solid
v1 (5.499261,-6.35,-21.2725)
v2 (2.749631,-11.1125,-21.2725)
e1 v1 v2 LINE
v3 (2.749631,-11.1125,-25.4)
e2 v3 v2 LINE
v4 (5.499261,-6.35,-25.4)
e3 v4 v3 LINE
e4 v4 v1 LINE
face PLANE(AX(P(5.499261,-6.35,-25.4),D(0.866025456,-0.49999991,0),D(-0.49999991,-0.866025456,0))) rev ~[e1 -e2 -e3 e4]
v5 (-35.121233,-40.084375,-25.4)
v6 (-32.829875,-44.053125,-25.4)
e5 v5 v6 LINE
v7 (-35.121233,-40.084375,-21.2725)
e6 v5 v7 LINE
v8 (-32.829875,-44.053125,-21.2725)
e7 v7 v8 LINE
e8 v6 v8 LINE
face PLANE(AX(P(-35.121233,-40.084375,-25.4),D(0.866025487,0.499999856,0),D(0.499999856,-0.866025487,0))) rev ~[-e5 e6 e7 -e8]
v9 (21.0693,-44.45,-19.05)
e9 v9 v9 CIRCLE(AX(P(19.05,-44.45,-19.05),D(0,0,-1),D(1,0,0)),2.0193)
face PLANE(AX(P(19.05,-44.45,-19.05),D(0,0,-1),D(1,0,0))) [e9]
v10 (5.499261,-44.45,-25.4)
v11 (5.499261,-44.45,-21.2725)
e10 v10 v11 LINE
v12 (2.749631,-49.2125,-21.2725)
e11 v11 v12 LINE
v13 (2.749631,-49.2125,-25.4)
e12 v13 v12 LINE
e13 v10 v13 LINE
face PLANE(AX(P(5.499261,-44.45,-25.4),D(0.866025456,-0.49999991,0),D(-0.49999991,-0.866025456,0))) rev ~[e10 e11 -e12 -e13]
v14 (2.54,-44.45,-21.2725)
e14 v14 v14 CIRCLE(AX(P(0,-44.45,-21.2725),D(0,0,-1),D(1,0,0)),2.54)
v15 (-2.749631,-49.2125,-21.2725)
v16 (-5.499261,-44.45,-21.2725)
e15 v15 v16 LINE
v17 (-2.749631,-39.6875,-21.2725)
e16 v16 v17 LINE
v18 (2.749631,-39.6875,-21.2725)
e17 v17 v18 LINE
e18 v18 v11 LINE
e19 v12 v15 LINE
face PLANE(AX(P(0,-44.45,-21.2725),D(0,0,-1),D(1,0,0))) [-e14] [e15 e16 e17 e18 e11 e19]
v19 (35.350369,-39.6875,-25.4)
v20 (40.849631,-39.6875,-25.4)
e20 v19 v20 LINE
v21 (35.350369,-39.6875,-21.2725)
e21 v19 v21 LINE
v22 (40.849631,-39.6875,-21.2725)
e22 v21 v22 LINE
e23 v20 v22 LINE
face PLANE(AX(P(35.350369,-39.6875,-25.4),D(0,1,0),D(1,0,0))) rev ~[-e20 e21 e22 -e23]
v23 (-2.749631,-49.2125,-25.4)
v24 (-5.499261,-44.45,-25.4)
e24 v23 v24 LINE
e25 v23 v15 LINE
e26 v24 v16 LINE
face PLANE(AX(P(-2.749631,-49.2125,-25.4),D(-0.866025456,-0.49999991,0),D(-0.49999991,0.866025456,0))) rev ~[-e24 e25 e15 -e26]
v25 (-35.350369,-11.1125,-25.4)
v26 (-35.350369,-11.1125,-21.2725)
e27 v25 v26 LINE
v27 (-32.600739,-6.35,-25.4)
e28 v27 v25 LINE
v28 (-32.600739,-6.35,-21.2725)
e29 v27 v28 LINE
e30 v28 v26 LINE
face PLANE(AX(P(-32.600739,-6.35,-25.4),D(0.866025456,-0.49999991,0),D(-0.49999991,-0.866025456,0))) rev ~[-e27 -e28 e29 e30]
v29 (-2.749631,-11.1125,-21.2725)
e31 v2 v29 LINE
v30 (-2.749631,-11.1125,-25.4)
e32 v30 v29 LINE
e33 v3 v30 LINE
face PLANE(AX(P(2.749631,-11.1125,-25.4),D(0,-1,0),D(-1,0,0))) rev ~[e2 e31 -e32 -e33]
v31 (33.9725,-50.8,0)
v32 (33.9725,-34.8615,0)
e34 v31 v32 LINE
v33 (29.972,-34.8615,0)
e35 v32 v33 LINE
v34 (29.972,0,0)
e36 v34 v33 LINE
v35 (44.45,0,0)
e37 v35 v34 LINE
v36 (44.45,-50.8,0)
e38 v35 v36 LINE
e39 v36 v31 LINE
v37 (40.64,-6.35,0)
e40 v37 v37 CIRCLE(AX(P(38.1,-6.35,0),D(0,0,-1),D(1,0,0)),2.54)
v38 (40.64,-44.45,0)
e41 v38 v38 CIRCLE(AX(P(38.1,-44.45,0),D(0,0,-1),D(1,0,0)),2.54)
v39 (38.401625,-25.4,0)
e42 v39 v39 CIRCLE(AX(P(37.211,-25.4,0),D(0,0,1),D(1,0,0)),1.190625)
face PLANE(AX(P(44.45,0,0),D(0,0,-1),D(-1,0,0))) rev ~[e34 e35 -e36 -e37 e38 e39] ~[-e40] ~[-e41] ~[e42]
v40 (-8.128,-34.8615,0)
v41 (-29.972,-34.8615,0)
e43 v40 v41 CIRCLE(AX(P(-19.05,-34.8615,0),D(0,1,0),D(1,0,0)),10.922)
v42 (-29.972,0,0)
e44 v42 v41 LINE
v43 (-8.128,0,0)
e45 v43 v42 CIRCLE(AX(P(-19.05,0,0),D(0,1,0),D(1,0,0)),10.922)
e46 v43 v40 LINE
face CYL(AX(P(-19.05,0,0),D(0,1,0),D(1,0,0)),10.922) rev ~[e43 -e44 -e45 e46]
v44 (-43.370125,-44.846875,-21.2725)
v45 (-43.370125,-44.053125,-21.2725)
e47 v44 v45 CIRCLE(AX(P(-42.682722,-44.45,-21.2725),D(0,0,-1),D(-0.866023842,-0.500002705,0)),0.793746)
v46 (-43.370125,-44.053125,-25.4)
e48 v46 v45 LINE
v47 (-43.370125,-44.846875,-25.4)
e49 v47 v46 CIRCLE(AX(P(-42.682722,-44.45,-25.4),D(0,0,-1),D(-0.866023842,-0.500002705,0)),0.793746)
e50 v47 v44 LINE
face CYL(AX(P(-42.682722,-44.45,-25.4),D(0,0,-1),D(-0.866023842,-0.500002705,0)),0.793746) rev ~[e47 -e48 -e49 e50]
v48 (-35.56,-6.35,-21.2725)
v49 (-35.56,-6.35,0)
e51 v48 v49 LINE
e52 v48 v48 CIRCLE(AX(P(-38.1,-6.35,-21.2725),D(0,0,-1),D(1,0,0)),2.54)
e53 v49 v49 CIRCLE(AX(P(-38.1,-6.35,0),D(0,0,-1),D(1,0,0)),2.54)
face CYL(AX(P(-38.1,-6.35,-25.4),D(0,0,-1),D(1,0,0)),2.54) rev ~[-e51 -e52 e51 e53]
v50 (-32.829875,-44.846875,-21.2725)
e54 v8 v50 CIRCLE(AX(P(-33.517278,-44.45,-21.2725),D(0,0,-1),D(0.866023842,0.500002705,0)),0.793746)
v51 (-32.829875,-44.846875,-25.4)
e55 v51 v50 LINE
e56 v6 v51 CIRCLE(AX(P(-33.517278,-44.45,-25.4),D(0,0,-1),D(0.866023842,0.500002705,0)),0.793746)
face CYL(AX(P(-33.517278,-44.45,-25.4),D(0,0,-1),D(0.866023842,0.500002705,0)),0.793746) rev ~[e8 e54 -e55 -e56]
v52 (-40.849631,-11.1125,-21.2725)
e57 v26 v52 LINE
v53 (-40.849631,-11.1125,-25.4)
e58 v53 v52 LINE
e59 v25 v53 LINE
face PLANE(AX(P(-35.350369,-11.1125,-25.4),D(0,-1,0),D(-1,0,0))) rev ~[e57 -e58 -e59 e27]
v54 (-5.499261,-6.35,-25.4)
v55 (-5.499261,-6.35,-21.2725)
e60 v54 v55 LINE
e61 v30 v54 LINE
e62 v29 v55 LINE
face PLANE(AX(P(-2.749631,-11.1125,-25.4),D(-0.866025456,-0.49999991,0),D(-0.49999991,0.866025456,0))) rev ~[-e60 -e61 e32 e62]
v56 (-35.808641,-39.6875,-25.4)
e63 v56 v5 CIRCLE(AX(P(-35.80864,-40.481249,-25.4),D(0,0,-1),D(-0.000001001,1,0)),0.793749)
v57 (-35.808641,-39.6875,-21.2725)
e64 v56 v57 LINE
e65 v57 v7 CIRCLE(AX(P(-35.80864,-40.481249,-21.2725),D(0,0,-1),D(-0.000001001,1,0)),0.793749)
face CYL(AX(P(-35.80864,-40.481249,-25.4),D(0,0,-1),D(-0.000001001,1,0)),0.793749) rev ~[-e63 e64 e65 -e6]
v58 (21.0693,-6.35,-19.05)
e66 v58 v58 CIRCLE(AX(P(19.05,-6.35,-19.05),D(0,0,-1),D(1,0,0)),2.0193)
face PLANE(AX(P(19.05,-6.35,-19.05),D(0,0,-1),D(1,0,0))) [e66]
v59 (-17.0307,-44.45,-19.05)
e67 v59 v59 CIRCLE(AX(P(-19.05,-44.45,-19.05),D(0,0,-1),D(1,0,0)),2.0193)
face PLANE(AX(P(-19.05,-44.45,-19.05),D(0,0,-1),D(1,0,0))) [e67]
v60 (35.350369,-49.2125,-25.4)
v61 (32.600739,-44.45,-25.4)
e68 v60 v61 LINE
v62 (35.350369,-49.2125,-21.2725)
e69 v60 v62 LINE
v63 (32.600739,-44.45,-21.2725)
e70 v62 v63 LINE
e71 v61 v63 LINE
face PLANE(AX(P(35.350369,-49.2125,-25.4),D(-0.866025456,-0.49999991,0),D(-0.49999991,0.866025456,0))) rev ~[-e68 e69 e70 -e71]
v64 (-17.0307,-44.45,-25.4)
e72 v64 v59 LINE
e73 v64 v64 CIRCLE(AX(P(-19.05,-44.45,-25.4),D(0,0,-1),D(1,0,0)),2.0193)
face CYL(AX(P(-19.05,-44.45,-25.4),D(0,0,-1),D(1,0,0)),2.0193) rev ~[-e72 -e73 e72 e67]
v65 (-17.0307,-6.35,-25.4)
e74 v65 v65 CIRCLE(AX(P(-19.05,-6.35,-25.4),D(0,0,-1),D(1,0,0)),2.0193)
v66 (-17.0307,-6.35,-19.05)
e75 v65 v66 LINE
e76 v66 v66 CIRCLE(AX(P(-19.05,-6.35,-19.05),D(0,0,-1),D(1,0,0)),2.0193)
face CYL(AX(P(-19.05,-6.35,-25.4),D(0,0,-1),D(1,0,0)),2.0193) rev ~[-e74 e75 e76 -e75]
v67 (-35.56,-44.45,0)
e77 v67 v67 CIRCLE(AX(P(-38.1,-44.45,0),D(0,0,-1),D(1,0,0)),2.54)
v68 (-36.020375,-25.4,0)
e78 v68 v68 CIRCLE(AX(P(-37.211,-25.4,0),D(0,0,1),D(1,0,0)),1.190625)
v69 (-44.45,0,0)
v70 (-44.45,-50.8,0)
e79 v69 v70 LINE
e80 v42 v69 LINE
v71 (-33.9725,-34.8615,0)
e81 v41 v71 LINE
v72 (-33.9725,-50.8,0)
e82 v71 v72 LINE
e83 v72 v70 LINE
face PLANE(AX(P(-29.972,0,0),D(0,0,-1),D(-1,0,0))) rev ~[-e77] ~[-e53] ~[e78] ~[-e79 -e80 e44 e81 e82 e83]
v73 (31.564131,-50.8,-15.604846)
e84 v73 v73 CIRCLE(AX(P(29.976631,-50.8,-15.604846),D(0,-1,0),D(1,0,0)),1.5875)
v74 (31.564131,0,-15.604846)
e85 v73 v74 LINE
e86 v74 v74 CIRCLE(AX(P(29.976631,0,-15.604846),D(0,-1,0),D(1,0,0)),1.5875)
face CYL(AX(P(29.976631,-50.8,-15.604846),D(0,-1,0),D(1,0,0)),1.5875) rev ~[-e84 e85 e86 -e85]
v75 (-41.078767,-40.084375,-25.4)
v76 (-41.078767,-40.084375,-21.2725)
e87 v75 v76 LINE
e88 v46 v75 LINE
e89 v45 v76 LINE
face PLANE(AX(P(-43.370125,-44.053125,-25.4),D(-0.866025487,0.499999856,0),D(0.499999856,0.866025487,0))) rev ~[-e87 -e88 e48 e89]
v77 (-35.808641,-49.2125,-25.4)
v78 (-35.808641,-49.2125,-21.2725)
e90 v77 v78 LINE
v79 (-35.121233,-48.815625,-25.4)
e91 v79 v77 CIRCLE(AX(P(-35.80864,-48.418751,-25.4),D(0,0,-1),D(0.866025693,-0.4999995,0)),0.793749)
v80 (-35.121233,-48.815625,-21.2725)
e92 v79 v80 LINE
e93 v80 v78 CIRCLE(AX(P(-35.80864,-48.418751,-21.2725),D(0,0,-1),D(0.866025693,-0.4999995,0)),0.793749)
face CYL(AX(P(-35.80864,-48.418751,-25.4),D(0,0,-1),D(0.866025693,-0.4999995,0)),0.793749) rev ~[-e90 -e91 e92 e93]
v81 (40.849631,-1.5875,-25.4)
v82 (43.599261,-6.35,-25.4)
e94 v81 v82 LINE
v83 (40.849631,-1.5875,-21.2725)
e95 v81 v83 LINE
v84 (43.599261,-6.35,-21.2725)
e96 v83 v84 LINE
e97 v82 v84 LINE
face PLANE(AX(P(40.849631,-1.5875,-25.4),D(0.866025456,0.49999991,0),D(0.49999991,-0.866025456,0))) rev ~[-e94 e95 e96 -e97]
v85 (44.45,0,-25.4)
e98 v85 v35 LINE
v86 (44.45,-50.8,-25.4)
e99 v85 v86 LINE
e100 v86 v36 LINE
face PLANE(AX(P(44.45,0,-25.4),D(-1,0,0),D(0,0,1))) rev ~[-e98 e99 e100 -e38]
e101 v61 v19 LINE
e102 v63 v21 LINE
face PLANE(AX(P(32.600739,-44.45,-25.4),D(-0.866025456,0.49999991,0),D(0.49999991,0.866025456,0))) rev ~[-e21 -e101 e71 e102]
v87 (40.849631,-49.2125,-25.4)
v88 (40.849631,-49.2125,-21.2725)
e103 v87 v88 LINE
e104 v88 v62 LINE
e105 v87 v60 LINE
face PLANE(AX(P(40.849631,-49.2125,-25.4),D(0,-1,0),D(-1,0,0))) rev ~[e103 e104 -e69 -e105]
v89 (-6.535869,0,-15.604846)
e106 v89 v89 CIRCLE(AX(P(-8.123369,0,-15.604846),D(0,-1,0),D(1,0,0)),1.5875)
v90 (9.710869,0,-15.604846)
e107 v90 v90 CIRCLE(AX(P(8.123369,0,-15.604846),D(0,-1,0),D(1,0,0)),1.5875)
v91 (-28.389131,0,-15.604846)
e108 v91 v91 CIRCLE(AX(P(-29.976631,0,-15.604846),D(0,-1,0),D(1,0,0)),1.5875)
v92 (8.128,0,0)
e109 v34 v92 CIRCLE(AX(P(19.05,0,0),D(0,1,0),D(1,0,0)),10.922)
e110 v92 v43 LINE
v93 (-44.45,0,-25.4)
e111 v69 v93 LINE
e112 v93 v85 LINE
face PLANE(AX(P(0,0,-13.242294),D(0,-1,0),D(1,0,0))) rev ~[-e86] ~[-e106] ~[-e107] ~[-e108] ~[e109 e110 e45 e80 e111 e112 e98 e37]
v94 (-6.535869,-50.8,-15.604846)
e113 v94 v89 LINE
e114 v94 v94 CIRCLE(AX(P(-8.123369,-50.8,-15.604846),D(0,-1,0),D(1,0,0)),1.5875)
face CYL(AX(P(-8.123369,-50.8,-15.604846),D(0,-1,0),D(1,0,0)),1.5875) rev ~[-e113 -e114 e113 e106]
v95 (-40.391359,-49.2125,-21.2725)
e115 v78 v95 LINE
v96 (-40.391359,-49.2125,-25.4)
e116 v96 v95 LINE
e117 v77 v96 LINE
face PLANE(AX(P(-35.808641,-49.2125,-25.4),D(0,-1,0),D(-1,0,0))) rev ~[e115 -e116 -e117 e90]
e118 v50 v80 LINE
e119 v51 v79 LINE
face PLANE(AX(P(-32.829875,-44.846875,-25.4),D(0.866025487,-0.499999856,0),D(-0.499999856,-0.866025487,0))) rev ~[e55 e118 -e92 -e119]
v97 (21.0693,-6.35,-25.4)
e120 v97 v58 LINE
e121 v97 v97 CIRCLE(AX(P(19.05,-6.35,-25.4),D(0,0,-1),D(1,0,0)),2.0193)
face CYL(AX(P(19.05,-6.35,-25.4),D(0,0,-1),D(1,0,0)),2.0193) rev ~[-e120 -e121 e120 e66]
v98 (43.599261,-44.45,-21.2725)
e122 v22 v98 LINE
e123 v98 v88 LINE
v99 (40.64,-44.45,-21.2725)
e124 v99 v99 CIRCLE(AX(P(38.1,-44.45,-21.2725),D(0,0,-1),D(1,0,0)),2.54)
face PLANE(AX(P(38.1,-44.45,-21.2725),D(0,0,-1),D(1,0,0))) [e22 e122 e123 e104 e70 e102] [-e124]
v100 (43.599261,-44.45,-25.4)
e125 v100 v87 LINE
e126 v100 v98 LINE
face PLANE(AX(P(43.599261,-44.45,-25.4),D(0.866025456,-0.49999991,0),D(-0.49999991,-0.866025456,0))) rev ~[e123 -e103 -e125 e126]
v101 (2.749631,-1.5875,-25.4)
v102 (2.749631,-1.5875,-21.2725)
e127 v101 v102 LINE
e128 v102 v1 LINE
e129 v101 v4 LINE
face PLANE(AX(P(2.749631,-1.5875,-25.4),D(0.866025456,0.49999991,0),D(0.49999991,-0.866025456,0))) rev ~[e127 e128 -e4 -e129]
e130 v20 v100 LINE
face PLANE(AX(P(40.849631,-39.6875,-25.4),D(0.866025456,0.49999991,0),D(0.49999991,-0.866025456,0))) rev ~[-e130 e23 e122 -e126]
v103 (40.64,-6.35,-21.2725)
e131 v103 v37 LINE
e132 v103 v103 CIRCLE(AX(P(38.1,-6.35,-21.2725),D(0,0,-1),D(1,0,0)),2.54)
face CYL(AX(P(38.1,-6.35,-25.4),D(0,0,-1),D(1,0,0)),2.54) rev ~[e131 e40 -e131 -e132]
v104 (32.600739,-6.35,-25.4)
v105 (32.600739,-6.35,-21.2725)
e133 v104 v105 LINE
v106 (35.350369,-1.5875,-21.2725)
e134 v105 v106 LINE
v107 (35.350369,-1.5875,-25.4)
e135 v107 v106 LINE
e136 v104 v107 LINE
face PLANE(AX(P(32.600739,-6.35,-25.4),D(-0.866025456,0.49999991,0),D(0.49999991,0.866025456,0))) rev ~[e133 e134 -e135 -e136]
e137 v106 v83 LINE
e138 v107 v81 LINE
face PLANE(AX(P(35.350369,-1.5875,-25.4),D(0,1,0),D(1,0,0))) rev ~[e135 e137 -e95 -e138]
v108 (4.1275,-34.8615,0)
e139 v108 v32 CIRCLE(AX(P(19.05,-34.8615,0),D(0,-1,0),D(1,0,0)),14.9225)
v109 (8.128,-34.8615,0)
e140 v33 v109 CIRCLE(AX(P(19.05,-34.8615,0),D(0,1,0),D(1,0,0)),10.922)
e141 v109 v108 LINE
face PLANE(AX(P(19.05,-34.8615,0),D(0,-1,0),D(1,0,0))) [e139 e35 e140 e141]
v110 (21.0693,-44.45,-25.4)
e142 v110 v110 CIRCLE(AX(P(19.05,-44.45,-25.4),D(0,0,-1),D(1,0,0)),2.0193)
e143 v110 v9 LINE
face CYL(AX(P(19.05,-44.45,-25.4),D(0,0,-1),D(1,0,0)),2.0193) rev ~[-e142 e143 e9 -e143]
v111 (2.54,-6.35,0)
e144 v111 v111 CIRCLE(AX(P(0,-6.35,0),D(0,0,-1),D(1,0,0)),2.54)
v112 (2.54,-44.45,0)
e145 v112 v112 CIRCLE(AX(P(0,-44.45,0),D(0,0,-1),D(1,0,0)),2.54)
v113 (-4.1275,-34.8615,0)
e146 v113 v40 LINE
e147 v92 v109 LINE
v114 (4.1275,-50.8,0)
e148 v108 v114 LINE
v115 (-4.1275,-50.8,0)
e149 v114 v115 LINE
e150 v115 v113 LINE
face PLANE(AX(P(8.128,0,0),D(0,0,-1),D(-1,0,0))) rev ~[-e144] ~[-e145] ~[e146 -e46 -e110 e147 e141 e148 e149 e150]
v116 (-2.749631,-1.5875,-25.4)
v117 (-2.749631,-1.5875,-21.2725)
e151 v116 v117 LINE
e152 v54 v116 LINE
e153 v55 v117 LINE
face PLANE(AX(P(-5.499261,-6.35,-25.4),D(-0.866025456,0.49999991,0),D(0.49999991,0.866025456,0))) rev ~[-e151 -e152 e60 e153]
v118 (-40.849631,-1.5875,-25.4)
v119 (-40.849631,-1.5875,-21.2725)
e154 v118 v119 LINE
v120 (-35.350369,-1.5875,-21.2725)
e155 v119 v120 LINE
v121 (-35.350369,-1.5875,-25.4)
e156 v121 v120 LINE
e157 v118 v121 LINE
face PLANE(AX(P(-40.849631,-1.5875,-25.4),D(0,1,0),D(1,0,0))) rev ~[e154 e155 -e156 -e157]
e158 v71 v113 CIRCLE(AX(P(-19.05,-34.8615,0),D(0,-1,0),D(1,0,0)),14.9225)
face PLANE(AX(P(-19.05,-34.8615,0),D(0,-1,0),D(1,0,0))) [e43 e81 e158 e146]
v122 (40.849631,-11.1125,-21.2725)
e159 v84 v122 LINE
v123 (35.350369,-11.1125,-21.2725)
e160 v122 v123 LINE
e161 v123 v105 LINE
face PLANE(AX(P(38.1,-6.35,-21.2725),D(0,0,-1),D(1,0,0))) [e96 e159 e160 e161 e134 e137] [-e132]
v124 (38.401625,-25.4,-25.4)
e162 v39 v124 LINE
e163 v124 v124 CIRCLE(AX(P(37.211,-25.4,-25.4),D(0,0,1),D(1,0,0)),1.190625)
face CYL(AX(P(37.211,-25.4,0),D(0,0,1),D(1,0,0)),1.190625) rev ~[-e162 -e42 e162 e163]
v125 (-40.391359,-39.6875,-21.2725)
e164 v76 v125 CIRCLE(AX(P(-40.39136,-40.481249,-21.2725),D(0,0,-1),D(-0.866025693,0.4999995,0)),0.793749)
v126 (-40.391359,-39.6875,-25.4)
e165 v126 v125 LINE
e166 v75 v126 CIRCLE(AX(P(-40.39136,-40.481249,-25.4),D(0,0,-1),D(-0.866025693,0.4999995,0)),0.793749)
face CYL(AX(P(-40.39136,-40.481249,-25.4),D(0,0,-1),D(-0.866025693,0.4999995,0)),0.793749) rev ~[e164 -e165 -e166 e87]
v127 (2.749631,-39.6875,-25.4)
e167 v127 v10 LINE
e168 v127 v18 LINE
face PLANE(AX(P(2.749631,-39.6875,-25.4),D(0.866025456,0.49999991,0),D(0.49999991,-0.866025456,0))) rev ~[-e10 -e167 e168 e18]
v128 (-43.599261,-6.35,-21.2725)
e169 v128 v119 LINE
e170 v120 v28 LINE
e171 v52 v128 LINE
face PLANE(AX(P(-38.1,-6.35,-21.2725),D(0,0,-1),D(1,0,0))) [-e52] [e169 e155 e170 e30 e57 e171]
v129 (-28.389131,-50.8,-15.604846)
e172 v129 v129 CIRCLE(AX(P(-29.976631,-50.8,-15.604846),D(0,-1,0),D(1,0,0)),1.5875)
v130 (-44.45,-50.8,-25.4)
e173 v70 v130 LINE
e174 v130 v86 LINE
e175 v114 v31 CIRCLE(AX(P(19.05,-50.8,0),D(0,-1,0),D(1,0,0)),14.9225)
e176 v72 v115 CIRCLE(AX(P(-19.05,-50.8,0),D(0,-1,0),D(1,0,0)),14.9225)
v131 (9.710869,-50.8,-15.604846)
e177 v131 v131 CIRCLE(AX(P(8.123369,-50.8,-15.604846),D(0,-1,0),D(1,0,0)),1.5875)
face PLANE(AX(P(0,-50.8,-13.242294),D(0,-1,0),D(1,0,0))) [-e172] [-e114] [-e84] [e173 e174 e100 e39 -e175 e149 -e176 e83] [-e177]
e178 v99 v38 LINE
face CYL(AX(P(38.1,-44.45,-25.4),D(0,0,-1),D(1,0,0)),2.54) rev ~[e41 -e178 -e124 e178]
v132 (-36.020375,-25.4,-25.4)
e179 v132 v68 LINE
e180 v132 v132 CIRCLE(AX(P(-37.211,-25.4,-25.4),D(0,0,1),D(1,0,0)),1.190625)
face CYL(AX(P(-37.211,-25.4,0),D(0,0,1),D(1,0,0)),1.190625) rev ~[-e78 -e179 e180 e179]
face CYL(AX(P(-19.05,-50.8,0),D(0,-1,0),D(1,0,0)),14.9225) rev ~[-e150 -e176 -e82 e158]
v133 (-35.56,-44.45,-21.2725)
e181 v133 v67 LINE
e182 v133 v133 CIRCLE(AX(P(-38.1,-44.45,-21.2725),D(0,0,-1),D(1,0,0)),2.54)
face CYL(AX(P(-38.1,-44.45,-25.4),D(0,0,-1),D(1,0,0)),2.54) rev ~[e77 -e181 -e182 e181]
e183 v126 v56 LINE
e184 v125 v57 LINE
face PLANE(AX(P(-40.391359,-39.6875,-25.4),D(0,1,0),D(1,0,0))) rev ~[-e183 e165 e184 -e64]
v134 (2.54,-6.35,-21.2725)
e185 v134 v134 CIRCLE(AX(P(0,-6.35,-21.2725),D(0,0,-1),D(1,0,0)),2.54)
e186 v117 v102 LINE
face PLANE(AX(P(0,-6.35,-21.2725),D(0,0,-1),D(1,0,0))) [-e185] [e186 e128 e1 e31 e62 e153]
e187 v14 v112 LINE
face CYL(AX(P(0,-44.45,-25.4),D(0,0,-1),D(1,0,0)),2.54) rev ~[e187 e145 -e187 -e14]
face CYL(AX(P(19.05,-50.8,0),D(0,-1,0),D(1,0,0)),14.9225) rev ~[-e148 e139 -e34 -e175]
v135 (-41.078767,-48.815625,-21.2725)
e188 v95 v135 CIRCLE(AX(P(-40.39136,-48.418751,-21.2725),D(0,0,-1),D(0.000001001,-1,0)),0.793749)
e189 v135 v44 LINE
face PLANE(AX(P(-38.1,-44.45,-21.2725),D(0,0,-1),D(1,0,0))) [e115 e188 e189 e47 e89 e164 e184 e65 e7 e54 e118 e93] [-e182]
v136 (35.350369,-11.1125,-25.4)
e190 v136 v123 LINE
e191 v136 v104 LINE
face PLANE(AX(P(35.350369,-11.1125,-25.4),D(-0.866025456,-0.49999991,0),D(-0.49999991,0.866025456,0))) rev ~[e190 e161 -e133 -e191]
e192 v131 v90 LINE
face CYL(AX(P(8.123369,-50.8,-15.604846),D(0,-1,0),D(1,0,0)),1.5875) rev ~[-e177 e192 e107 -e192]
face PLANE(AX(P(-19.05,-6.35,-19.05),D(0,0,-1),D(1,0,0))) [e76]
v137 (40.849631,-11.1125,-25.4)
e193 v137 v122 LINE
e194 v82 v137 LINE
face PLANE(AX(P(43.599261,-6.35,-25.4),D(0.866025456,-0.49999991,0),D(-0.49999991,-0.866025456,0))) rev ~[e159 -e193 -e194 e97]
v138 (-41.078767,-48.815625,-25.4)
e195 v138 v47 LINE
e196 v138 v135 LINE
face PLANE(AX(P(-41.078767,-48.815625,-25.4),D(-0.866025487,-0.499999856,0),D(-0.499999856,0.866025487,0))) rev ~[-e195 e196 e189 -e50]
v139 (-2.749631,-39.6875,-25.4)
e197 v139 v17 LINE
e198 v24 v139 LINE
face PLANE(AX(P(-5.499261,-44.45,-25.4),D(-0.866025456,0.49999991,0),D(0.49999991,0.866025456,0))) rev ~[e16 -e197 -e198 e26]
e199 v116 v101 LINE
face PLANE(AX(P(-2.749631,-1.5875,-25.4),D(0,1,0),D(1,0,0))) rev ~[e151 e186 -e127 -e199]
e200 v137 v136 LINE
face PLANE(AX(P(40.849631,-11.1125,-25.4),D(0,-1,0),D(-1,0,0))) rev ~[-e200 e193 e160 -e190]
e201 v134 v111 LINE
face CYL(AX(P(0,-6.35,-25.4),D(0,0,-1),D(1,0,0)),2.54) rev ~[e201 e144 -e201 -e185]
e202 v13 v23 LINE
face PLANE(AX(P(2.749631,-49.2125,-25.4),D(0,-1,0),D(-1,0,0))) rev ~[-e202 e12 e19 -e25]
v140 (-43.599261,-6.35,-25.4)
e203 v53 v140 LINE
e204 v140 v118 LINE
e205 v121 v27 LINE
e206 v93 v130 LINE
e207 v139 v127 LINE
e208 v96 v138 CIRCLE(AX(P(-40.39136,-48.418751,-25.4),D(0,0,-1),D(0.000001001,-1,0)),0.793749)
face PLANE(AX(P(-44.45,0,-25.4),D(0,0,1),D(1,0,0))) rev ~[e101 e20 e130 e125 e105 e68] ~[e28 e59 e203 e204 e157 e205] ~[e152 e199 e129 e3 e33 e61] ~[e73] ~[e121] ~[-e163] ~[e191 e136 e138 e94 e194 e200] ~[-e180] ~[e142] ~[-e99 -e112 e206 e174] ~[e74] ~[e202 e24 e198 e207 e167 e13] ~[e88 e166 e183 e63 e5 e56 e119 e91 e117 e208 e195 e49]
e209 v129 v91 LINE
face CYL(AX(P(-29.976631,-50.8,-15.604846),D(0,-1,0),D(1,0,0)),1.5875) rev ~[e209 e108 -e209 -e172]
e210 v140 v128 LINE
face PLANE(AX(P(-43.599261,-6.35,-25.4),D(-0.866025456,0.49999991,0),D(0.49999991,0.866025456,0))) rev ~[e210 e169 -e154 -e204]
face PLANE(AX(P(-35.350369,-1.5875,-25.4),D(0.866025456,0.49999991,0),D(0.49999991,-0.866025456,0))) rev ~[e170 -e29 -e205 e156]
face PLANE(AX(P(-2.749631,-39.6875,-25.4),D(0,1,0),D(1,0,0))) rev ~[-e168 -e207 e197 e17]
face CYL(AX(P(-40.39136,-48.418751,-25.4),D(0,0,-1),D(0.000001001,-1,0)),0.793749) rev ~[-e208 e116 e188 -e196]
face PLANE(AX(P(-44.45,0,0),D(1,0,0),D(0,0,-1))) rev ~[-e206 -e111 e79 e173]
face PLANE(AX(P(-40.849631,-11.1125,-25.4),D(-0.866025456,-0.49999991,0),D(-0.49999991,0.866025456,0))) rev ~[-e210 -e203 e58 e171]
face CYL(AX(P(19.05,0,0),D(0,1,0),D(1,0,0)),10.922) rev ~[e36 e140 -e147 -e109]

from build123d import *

# Parameters (mm, degrees)
F1_DEPTH  = 50.8
F2_R      = 14.9225
F3_DEPTH  = 15.9385
F4_R      = 2.54
F5_DEPTH  = 25.401
F6_R      = 1.190625
F7_DEPTH  = 25.401
F8_R      = 1.190625
F9_DEPTH  = 25.401
F10_R     = 2.0193
F11_DEPTH = 6.35
F13_DEPTH = 4.1275
F14_R     = 1.5875
F15_DEPTH = 50.801


with BuildPart() as f1:
    # F0 (on Front) → F1 (new body)
    with BuildSketch(Plane.XZ):
        with BuildLine():
            Line((-29.972, 0), (-44.45, 0))
            Line((-44.45, 0), (-44.45, -25.4))
            Line((-44.45, -25.4), (44.45, -25.4))
            Line((44.45, -25.4), (44.45, 0))
            Line((44.45, 0), (29.972, 0))
            ThreePointArc((29.972, 0), (19.05, -10.922), (8.128, 0))
            Line((8.128, 0), (-8.128, 0))
            ThreePointArc((-8.128, 0), (-19.05, -10.922), (-29.972, 0))
        make_face()
    extrude(amount=F1_DEPTH)

    # F2 (on face) → F3 (cut)
    with BuildSketch(Plane.XZ.offset(50.8)):
        with Locations((-19.05, 0)):
            Circle(F2_R)
        with Locations((19.05, 0)):
            Circle(F2_R)
    extrude(amount=-F3_DEPTH, mode=Mode.SUBTRACT)

    # F4 (on face) → F5 (cut, through all)
    with BuildSketch(Plane(origin=(0, 0, -25.4), x_dir=(1, 0, 0), z_dir=(0, 0, -1))):
        with Locations((-38.1, 44.45)):
            Circle(F4_R)
        with Locations((0, 44.45)):
            Circle(F4_R)
        with Locations((38.1, 44.45)):
            Circle(F4_R)
        with Locations((38.1, 6.35)):
            Circle(F4_R)
        with Locations((0, 6.35)):
            Circle(F4_R)
        with Locations((-38.1, 6.35)):
            Circle(F4_R)
    extrude(amount=-F5_DEPTH, mode=Mode.SUBTRACT)

    # F6 (on face) → F7 (cut, through all)
    with BuildSketch(Plane.XY):
        with Locations((37.211, -25.4)):
            Circle(F6_R)
    extrude(amount=-F7_DEPTH, mode=Mode.SUBTRACT)

    # F8 (on face) → F9 (cut, through all)
    with BuildSketch(Plane.XY):
        with Locations((-37.211, -25.4)):
            Circle(F8_R)
    extrude(amount=-F9_DEPTH, mode=Mode.SUBTRACT)

    # F10 (on face) + F8 (on face) → F11 (cut)
    with BuildSketch(Plane(origin=(0, 0, -25.4), x_dir=(1, 0, 0), z_dir=(0, 0, -1))):
        with Locations((-19.05, 6.35)):
            Circle(F10_R)
        with Locations((-19.05, 44.45)):
            Circle(F10_R)
        with Locations((19.05, 44.45)):
            Circle(F10_R)
        with Locations((19.05, 6.35)):
            Circle(F10_R)
    with BuildSketch(Plane.XY):
        with Locations((-37.211, -25.4)):
            Circle(F8_R)
    extrude(amount=-F11_DEPTH, mode=Mode.SUBTRACT)

    # F12 (on face) → F13 (cut)
    with BuildSketch(Plane(origin=(0, 0, -25.4), x_dir=(1, 0, 0), z_dir=(0, 0, -1))):
        with BuildLine():
            Line((-35.808641, 49.2125), (-40.391359, 49.2125))
            ThreePointArc((-40.391359, 49.2125), (-40.788234, 49.106158), (-41.078767, 48.815625))
            Line((-41.078767, 48.815625), (-43.370125, 44.846875))
            ThreePointArc((-43.370125, 44.846875), (-43.476468, 44.45), (-43.370125, 44.053125))
            Line((-43.370125, 44.053125), (-41.078767, 40.084375))
            ThreePointArc((-41.078767, 40.084375), (-40.788234, 39.793842), (-40.391359, 39.6875))
            Line((-40.391359, 39.6875), (-35.808641, 39.6875))
            ThreePointArc((-35.808641, 39.6875), (-35.411766, 39.793842), (-35.121233, 40.084375))
            Line((-35.121233, 40.084375), (-32.829875, 44.053125))
            ThreePointArc((-32.829875, 44.053125), (-32.723532, 44.45), (-32.829875, 44.846875))
            Line((-32.829875, 44.846875), (-35.121233, 48.815625))
            ThreePointArc((-35.121233, 48.815625), (-35.411766, 49.106158), (-35.808641, 49.2125))
        make_face()
        Polygon((2.749631, 49.2125), (-2.749631, 49.2125), (-5.499261, 44.45), (-2.749631, 39.6875), (2.749631, 39.6875), (5.499261, 44.45), align=None)
        Polygon((40.849631, 49.2125), (35.350369, 49.2125), (32.600739, 44.45), (35.350369, 39.6875), (40.849631, 39.6875), (43.599261, 44.45), align=None)
        Polygon((40.849631, 11.1125), (35.350369, 11.1125), (32.600739, 6.35), (35.350369, 1.5875), (40.849631, 1.5875), (43.599261, 6.35), align=None)
        Polygon((2.749631, 11.1125), (-2.749631, 11.1125), (-5.499261, 6.35), (-2.749631, 1.5875), (2.749631, 1.5875), (5.499261, 6.35), align=None)
        Polygon((-35.350369, 11.1125), (-40.849631, 11.1125), (-43.599261, 6.35), (-40.849631, 1.5875), (-35.350369, 1.5875), (-32.600739, 6.35), align=None)
    extrude(amount=-F13_DEPTH, mode=Mode.SUBTRACT)

    # F14 (on face) → F15 (cut, through all)
    with BuildSketch(Plane.XZ.offset(50.8)):
        with Locations((29.976631, -15.604846)):
            Circle(F14_R)
        with Locations((8.123369, -15.604846)):
            Circle(F14_R)
        with Locations((-8.123369, -15.604846)):
            Circle(F14_R)
        with Locations((-29.976631, -15.604846)):
            Circle(F14_R)
    extrude(amount=-F15_DEPTH, mode=Mode.SUBTRACT)


solid = f1.part
